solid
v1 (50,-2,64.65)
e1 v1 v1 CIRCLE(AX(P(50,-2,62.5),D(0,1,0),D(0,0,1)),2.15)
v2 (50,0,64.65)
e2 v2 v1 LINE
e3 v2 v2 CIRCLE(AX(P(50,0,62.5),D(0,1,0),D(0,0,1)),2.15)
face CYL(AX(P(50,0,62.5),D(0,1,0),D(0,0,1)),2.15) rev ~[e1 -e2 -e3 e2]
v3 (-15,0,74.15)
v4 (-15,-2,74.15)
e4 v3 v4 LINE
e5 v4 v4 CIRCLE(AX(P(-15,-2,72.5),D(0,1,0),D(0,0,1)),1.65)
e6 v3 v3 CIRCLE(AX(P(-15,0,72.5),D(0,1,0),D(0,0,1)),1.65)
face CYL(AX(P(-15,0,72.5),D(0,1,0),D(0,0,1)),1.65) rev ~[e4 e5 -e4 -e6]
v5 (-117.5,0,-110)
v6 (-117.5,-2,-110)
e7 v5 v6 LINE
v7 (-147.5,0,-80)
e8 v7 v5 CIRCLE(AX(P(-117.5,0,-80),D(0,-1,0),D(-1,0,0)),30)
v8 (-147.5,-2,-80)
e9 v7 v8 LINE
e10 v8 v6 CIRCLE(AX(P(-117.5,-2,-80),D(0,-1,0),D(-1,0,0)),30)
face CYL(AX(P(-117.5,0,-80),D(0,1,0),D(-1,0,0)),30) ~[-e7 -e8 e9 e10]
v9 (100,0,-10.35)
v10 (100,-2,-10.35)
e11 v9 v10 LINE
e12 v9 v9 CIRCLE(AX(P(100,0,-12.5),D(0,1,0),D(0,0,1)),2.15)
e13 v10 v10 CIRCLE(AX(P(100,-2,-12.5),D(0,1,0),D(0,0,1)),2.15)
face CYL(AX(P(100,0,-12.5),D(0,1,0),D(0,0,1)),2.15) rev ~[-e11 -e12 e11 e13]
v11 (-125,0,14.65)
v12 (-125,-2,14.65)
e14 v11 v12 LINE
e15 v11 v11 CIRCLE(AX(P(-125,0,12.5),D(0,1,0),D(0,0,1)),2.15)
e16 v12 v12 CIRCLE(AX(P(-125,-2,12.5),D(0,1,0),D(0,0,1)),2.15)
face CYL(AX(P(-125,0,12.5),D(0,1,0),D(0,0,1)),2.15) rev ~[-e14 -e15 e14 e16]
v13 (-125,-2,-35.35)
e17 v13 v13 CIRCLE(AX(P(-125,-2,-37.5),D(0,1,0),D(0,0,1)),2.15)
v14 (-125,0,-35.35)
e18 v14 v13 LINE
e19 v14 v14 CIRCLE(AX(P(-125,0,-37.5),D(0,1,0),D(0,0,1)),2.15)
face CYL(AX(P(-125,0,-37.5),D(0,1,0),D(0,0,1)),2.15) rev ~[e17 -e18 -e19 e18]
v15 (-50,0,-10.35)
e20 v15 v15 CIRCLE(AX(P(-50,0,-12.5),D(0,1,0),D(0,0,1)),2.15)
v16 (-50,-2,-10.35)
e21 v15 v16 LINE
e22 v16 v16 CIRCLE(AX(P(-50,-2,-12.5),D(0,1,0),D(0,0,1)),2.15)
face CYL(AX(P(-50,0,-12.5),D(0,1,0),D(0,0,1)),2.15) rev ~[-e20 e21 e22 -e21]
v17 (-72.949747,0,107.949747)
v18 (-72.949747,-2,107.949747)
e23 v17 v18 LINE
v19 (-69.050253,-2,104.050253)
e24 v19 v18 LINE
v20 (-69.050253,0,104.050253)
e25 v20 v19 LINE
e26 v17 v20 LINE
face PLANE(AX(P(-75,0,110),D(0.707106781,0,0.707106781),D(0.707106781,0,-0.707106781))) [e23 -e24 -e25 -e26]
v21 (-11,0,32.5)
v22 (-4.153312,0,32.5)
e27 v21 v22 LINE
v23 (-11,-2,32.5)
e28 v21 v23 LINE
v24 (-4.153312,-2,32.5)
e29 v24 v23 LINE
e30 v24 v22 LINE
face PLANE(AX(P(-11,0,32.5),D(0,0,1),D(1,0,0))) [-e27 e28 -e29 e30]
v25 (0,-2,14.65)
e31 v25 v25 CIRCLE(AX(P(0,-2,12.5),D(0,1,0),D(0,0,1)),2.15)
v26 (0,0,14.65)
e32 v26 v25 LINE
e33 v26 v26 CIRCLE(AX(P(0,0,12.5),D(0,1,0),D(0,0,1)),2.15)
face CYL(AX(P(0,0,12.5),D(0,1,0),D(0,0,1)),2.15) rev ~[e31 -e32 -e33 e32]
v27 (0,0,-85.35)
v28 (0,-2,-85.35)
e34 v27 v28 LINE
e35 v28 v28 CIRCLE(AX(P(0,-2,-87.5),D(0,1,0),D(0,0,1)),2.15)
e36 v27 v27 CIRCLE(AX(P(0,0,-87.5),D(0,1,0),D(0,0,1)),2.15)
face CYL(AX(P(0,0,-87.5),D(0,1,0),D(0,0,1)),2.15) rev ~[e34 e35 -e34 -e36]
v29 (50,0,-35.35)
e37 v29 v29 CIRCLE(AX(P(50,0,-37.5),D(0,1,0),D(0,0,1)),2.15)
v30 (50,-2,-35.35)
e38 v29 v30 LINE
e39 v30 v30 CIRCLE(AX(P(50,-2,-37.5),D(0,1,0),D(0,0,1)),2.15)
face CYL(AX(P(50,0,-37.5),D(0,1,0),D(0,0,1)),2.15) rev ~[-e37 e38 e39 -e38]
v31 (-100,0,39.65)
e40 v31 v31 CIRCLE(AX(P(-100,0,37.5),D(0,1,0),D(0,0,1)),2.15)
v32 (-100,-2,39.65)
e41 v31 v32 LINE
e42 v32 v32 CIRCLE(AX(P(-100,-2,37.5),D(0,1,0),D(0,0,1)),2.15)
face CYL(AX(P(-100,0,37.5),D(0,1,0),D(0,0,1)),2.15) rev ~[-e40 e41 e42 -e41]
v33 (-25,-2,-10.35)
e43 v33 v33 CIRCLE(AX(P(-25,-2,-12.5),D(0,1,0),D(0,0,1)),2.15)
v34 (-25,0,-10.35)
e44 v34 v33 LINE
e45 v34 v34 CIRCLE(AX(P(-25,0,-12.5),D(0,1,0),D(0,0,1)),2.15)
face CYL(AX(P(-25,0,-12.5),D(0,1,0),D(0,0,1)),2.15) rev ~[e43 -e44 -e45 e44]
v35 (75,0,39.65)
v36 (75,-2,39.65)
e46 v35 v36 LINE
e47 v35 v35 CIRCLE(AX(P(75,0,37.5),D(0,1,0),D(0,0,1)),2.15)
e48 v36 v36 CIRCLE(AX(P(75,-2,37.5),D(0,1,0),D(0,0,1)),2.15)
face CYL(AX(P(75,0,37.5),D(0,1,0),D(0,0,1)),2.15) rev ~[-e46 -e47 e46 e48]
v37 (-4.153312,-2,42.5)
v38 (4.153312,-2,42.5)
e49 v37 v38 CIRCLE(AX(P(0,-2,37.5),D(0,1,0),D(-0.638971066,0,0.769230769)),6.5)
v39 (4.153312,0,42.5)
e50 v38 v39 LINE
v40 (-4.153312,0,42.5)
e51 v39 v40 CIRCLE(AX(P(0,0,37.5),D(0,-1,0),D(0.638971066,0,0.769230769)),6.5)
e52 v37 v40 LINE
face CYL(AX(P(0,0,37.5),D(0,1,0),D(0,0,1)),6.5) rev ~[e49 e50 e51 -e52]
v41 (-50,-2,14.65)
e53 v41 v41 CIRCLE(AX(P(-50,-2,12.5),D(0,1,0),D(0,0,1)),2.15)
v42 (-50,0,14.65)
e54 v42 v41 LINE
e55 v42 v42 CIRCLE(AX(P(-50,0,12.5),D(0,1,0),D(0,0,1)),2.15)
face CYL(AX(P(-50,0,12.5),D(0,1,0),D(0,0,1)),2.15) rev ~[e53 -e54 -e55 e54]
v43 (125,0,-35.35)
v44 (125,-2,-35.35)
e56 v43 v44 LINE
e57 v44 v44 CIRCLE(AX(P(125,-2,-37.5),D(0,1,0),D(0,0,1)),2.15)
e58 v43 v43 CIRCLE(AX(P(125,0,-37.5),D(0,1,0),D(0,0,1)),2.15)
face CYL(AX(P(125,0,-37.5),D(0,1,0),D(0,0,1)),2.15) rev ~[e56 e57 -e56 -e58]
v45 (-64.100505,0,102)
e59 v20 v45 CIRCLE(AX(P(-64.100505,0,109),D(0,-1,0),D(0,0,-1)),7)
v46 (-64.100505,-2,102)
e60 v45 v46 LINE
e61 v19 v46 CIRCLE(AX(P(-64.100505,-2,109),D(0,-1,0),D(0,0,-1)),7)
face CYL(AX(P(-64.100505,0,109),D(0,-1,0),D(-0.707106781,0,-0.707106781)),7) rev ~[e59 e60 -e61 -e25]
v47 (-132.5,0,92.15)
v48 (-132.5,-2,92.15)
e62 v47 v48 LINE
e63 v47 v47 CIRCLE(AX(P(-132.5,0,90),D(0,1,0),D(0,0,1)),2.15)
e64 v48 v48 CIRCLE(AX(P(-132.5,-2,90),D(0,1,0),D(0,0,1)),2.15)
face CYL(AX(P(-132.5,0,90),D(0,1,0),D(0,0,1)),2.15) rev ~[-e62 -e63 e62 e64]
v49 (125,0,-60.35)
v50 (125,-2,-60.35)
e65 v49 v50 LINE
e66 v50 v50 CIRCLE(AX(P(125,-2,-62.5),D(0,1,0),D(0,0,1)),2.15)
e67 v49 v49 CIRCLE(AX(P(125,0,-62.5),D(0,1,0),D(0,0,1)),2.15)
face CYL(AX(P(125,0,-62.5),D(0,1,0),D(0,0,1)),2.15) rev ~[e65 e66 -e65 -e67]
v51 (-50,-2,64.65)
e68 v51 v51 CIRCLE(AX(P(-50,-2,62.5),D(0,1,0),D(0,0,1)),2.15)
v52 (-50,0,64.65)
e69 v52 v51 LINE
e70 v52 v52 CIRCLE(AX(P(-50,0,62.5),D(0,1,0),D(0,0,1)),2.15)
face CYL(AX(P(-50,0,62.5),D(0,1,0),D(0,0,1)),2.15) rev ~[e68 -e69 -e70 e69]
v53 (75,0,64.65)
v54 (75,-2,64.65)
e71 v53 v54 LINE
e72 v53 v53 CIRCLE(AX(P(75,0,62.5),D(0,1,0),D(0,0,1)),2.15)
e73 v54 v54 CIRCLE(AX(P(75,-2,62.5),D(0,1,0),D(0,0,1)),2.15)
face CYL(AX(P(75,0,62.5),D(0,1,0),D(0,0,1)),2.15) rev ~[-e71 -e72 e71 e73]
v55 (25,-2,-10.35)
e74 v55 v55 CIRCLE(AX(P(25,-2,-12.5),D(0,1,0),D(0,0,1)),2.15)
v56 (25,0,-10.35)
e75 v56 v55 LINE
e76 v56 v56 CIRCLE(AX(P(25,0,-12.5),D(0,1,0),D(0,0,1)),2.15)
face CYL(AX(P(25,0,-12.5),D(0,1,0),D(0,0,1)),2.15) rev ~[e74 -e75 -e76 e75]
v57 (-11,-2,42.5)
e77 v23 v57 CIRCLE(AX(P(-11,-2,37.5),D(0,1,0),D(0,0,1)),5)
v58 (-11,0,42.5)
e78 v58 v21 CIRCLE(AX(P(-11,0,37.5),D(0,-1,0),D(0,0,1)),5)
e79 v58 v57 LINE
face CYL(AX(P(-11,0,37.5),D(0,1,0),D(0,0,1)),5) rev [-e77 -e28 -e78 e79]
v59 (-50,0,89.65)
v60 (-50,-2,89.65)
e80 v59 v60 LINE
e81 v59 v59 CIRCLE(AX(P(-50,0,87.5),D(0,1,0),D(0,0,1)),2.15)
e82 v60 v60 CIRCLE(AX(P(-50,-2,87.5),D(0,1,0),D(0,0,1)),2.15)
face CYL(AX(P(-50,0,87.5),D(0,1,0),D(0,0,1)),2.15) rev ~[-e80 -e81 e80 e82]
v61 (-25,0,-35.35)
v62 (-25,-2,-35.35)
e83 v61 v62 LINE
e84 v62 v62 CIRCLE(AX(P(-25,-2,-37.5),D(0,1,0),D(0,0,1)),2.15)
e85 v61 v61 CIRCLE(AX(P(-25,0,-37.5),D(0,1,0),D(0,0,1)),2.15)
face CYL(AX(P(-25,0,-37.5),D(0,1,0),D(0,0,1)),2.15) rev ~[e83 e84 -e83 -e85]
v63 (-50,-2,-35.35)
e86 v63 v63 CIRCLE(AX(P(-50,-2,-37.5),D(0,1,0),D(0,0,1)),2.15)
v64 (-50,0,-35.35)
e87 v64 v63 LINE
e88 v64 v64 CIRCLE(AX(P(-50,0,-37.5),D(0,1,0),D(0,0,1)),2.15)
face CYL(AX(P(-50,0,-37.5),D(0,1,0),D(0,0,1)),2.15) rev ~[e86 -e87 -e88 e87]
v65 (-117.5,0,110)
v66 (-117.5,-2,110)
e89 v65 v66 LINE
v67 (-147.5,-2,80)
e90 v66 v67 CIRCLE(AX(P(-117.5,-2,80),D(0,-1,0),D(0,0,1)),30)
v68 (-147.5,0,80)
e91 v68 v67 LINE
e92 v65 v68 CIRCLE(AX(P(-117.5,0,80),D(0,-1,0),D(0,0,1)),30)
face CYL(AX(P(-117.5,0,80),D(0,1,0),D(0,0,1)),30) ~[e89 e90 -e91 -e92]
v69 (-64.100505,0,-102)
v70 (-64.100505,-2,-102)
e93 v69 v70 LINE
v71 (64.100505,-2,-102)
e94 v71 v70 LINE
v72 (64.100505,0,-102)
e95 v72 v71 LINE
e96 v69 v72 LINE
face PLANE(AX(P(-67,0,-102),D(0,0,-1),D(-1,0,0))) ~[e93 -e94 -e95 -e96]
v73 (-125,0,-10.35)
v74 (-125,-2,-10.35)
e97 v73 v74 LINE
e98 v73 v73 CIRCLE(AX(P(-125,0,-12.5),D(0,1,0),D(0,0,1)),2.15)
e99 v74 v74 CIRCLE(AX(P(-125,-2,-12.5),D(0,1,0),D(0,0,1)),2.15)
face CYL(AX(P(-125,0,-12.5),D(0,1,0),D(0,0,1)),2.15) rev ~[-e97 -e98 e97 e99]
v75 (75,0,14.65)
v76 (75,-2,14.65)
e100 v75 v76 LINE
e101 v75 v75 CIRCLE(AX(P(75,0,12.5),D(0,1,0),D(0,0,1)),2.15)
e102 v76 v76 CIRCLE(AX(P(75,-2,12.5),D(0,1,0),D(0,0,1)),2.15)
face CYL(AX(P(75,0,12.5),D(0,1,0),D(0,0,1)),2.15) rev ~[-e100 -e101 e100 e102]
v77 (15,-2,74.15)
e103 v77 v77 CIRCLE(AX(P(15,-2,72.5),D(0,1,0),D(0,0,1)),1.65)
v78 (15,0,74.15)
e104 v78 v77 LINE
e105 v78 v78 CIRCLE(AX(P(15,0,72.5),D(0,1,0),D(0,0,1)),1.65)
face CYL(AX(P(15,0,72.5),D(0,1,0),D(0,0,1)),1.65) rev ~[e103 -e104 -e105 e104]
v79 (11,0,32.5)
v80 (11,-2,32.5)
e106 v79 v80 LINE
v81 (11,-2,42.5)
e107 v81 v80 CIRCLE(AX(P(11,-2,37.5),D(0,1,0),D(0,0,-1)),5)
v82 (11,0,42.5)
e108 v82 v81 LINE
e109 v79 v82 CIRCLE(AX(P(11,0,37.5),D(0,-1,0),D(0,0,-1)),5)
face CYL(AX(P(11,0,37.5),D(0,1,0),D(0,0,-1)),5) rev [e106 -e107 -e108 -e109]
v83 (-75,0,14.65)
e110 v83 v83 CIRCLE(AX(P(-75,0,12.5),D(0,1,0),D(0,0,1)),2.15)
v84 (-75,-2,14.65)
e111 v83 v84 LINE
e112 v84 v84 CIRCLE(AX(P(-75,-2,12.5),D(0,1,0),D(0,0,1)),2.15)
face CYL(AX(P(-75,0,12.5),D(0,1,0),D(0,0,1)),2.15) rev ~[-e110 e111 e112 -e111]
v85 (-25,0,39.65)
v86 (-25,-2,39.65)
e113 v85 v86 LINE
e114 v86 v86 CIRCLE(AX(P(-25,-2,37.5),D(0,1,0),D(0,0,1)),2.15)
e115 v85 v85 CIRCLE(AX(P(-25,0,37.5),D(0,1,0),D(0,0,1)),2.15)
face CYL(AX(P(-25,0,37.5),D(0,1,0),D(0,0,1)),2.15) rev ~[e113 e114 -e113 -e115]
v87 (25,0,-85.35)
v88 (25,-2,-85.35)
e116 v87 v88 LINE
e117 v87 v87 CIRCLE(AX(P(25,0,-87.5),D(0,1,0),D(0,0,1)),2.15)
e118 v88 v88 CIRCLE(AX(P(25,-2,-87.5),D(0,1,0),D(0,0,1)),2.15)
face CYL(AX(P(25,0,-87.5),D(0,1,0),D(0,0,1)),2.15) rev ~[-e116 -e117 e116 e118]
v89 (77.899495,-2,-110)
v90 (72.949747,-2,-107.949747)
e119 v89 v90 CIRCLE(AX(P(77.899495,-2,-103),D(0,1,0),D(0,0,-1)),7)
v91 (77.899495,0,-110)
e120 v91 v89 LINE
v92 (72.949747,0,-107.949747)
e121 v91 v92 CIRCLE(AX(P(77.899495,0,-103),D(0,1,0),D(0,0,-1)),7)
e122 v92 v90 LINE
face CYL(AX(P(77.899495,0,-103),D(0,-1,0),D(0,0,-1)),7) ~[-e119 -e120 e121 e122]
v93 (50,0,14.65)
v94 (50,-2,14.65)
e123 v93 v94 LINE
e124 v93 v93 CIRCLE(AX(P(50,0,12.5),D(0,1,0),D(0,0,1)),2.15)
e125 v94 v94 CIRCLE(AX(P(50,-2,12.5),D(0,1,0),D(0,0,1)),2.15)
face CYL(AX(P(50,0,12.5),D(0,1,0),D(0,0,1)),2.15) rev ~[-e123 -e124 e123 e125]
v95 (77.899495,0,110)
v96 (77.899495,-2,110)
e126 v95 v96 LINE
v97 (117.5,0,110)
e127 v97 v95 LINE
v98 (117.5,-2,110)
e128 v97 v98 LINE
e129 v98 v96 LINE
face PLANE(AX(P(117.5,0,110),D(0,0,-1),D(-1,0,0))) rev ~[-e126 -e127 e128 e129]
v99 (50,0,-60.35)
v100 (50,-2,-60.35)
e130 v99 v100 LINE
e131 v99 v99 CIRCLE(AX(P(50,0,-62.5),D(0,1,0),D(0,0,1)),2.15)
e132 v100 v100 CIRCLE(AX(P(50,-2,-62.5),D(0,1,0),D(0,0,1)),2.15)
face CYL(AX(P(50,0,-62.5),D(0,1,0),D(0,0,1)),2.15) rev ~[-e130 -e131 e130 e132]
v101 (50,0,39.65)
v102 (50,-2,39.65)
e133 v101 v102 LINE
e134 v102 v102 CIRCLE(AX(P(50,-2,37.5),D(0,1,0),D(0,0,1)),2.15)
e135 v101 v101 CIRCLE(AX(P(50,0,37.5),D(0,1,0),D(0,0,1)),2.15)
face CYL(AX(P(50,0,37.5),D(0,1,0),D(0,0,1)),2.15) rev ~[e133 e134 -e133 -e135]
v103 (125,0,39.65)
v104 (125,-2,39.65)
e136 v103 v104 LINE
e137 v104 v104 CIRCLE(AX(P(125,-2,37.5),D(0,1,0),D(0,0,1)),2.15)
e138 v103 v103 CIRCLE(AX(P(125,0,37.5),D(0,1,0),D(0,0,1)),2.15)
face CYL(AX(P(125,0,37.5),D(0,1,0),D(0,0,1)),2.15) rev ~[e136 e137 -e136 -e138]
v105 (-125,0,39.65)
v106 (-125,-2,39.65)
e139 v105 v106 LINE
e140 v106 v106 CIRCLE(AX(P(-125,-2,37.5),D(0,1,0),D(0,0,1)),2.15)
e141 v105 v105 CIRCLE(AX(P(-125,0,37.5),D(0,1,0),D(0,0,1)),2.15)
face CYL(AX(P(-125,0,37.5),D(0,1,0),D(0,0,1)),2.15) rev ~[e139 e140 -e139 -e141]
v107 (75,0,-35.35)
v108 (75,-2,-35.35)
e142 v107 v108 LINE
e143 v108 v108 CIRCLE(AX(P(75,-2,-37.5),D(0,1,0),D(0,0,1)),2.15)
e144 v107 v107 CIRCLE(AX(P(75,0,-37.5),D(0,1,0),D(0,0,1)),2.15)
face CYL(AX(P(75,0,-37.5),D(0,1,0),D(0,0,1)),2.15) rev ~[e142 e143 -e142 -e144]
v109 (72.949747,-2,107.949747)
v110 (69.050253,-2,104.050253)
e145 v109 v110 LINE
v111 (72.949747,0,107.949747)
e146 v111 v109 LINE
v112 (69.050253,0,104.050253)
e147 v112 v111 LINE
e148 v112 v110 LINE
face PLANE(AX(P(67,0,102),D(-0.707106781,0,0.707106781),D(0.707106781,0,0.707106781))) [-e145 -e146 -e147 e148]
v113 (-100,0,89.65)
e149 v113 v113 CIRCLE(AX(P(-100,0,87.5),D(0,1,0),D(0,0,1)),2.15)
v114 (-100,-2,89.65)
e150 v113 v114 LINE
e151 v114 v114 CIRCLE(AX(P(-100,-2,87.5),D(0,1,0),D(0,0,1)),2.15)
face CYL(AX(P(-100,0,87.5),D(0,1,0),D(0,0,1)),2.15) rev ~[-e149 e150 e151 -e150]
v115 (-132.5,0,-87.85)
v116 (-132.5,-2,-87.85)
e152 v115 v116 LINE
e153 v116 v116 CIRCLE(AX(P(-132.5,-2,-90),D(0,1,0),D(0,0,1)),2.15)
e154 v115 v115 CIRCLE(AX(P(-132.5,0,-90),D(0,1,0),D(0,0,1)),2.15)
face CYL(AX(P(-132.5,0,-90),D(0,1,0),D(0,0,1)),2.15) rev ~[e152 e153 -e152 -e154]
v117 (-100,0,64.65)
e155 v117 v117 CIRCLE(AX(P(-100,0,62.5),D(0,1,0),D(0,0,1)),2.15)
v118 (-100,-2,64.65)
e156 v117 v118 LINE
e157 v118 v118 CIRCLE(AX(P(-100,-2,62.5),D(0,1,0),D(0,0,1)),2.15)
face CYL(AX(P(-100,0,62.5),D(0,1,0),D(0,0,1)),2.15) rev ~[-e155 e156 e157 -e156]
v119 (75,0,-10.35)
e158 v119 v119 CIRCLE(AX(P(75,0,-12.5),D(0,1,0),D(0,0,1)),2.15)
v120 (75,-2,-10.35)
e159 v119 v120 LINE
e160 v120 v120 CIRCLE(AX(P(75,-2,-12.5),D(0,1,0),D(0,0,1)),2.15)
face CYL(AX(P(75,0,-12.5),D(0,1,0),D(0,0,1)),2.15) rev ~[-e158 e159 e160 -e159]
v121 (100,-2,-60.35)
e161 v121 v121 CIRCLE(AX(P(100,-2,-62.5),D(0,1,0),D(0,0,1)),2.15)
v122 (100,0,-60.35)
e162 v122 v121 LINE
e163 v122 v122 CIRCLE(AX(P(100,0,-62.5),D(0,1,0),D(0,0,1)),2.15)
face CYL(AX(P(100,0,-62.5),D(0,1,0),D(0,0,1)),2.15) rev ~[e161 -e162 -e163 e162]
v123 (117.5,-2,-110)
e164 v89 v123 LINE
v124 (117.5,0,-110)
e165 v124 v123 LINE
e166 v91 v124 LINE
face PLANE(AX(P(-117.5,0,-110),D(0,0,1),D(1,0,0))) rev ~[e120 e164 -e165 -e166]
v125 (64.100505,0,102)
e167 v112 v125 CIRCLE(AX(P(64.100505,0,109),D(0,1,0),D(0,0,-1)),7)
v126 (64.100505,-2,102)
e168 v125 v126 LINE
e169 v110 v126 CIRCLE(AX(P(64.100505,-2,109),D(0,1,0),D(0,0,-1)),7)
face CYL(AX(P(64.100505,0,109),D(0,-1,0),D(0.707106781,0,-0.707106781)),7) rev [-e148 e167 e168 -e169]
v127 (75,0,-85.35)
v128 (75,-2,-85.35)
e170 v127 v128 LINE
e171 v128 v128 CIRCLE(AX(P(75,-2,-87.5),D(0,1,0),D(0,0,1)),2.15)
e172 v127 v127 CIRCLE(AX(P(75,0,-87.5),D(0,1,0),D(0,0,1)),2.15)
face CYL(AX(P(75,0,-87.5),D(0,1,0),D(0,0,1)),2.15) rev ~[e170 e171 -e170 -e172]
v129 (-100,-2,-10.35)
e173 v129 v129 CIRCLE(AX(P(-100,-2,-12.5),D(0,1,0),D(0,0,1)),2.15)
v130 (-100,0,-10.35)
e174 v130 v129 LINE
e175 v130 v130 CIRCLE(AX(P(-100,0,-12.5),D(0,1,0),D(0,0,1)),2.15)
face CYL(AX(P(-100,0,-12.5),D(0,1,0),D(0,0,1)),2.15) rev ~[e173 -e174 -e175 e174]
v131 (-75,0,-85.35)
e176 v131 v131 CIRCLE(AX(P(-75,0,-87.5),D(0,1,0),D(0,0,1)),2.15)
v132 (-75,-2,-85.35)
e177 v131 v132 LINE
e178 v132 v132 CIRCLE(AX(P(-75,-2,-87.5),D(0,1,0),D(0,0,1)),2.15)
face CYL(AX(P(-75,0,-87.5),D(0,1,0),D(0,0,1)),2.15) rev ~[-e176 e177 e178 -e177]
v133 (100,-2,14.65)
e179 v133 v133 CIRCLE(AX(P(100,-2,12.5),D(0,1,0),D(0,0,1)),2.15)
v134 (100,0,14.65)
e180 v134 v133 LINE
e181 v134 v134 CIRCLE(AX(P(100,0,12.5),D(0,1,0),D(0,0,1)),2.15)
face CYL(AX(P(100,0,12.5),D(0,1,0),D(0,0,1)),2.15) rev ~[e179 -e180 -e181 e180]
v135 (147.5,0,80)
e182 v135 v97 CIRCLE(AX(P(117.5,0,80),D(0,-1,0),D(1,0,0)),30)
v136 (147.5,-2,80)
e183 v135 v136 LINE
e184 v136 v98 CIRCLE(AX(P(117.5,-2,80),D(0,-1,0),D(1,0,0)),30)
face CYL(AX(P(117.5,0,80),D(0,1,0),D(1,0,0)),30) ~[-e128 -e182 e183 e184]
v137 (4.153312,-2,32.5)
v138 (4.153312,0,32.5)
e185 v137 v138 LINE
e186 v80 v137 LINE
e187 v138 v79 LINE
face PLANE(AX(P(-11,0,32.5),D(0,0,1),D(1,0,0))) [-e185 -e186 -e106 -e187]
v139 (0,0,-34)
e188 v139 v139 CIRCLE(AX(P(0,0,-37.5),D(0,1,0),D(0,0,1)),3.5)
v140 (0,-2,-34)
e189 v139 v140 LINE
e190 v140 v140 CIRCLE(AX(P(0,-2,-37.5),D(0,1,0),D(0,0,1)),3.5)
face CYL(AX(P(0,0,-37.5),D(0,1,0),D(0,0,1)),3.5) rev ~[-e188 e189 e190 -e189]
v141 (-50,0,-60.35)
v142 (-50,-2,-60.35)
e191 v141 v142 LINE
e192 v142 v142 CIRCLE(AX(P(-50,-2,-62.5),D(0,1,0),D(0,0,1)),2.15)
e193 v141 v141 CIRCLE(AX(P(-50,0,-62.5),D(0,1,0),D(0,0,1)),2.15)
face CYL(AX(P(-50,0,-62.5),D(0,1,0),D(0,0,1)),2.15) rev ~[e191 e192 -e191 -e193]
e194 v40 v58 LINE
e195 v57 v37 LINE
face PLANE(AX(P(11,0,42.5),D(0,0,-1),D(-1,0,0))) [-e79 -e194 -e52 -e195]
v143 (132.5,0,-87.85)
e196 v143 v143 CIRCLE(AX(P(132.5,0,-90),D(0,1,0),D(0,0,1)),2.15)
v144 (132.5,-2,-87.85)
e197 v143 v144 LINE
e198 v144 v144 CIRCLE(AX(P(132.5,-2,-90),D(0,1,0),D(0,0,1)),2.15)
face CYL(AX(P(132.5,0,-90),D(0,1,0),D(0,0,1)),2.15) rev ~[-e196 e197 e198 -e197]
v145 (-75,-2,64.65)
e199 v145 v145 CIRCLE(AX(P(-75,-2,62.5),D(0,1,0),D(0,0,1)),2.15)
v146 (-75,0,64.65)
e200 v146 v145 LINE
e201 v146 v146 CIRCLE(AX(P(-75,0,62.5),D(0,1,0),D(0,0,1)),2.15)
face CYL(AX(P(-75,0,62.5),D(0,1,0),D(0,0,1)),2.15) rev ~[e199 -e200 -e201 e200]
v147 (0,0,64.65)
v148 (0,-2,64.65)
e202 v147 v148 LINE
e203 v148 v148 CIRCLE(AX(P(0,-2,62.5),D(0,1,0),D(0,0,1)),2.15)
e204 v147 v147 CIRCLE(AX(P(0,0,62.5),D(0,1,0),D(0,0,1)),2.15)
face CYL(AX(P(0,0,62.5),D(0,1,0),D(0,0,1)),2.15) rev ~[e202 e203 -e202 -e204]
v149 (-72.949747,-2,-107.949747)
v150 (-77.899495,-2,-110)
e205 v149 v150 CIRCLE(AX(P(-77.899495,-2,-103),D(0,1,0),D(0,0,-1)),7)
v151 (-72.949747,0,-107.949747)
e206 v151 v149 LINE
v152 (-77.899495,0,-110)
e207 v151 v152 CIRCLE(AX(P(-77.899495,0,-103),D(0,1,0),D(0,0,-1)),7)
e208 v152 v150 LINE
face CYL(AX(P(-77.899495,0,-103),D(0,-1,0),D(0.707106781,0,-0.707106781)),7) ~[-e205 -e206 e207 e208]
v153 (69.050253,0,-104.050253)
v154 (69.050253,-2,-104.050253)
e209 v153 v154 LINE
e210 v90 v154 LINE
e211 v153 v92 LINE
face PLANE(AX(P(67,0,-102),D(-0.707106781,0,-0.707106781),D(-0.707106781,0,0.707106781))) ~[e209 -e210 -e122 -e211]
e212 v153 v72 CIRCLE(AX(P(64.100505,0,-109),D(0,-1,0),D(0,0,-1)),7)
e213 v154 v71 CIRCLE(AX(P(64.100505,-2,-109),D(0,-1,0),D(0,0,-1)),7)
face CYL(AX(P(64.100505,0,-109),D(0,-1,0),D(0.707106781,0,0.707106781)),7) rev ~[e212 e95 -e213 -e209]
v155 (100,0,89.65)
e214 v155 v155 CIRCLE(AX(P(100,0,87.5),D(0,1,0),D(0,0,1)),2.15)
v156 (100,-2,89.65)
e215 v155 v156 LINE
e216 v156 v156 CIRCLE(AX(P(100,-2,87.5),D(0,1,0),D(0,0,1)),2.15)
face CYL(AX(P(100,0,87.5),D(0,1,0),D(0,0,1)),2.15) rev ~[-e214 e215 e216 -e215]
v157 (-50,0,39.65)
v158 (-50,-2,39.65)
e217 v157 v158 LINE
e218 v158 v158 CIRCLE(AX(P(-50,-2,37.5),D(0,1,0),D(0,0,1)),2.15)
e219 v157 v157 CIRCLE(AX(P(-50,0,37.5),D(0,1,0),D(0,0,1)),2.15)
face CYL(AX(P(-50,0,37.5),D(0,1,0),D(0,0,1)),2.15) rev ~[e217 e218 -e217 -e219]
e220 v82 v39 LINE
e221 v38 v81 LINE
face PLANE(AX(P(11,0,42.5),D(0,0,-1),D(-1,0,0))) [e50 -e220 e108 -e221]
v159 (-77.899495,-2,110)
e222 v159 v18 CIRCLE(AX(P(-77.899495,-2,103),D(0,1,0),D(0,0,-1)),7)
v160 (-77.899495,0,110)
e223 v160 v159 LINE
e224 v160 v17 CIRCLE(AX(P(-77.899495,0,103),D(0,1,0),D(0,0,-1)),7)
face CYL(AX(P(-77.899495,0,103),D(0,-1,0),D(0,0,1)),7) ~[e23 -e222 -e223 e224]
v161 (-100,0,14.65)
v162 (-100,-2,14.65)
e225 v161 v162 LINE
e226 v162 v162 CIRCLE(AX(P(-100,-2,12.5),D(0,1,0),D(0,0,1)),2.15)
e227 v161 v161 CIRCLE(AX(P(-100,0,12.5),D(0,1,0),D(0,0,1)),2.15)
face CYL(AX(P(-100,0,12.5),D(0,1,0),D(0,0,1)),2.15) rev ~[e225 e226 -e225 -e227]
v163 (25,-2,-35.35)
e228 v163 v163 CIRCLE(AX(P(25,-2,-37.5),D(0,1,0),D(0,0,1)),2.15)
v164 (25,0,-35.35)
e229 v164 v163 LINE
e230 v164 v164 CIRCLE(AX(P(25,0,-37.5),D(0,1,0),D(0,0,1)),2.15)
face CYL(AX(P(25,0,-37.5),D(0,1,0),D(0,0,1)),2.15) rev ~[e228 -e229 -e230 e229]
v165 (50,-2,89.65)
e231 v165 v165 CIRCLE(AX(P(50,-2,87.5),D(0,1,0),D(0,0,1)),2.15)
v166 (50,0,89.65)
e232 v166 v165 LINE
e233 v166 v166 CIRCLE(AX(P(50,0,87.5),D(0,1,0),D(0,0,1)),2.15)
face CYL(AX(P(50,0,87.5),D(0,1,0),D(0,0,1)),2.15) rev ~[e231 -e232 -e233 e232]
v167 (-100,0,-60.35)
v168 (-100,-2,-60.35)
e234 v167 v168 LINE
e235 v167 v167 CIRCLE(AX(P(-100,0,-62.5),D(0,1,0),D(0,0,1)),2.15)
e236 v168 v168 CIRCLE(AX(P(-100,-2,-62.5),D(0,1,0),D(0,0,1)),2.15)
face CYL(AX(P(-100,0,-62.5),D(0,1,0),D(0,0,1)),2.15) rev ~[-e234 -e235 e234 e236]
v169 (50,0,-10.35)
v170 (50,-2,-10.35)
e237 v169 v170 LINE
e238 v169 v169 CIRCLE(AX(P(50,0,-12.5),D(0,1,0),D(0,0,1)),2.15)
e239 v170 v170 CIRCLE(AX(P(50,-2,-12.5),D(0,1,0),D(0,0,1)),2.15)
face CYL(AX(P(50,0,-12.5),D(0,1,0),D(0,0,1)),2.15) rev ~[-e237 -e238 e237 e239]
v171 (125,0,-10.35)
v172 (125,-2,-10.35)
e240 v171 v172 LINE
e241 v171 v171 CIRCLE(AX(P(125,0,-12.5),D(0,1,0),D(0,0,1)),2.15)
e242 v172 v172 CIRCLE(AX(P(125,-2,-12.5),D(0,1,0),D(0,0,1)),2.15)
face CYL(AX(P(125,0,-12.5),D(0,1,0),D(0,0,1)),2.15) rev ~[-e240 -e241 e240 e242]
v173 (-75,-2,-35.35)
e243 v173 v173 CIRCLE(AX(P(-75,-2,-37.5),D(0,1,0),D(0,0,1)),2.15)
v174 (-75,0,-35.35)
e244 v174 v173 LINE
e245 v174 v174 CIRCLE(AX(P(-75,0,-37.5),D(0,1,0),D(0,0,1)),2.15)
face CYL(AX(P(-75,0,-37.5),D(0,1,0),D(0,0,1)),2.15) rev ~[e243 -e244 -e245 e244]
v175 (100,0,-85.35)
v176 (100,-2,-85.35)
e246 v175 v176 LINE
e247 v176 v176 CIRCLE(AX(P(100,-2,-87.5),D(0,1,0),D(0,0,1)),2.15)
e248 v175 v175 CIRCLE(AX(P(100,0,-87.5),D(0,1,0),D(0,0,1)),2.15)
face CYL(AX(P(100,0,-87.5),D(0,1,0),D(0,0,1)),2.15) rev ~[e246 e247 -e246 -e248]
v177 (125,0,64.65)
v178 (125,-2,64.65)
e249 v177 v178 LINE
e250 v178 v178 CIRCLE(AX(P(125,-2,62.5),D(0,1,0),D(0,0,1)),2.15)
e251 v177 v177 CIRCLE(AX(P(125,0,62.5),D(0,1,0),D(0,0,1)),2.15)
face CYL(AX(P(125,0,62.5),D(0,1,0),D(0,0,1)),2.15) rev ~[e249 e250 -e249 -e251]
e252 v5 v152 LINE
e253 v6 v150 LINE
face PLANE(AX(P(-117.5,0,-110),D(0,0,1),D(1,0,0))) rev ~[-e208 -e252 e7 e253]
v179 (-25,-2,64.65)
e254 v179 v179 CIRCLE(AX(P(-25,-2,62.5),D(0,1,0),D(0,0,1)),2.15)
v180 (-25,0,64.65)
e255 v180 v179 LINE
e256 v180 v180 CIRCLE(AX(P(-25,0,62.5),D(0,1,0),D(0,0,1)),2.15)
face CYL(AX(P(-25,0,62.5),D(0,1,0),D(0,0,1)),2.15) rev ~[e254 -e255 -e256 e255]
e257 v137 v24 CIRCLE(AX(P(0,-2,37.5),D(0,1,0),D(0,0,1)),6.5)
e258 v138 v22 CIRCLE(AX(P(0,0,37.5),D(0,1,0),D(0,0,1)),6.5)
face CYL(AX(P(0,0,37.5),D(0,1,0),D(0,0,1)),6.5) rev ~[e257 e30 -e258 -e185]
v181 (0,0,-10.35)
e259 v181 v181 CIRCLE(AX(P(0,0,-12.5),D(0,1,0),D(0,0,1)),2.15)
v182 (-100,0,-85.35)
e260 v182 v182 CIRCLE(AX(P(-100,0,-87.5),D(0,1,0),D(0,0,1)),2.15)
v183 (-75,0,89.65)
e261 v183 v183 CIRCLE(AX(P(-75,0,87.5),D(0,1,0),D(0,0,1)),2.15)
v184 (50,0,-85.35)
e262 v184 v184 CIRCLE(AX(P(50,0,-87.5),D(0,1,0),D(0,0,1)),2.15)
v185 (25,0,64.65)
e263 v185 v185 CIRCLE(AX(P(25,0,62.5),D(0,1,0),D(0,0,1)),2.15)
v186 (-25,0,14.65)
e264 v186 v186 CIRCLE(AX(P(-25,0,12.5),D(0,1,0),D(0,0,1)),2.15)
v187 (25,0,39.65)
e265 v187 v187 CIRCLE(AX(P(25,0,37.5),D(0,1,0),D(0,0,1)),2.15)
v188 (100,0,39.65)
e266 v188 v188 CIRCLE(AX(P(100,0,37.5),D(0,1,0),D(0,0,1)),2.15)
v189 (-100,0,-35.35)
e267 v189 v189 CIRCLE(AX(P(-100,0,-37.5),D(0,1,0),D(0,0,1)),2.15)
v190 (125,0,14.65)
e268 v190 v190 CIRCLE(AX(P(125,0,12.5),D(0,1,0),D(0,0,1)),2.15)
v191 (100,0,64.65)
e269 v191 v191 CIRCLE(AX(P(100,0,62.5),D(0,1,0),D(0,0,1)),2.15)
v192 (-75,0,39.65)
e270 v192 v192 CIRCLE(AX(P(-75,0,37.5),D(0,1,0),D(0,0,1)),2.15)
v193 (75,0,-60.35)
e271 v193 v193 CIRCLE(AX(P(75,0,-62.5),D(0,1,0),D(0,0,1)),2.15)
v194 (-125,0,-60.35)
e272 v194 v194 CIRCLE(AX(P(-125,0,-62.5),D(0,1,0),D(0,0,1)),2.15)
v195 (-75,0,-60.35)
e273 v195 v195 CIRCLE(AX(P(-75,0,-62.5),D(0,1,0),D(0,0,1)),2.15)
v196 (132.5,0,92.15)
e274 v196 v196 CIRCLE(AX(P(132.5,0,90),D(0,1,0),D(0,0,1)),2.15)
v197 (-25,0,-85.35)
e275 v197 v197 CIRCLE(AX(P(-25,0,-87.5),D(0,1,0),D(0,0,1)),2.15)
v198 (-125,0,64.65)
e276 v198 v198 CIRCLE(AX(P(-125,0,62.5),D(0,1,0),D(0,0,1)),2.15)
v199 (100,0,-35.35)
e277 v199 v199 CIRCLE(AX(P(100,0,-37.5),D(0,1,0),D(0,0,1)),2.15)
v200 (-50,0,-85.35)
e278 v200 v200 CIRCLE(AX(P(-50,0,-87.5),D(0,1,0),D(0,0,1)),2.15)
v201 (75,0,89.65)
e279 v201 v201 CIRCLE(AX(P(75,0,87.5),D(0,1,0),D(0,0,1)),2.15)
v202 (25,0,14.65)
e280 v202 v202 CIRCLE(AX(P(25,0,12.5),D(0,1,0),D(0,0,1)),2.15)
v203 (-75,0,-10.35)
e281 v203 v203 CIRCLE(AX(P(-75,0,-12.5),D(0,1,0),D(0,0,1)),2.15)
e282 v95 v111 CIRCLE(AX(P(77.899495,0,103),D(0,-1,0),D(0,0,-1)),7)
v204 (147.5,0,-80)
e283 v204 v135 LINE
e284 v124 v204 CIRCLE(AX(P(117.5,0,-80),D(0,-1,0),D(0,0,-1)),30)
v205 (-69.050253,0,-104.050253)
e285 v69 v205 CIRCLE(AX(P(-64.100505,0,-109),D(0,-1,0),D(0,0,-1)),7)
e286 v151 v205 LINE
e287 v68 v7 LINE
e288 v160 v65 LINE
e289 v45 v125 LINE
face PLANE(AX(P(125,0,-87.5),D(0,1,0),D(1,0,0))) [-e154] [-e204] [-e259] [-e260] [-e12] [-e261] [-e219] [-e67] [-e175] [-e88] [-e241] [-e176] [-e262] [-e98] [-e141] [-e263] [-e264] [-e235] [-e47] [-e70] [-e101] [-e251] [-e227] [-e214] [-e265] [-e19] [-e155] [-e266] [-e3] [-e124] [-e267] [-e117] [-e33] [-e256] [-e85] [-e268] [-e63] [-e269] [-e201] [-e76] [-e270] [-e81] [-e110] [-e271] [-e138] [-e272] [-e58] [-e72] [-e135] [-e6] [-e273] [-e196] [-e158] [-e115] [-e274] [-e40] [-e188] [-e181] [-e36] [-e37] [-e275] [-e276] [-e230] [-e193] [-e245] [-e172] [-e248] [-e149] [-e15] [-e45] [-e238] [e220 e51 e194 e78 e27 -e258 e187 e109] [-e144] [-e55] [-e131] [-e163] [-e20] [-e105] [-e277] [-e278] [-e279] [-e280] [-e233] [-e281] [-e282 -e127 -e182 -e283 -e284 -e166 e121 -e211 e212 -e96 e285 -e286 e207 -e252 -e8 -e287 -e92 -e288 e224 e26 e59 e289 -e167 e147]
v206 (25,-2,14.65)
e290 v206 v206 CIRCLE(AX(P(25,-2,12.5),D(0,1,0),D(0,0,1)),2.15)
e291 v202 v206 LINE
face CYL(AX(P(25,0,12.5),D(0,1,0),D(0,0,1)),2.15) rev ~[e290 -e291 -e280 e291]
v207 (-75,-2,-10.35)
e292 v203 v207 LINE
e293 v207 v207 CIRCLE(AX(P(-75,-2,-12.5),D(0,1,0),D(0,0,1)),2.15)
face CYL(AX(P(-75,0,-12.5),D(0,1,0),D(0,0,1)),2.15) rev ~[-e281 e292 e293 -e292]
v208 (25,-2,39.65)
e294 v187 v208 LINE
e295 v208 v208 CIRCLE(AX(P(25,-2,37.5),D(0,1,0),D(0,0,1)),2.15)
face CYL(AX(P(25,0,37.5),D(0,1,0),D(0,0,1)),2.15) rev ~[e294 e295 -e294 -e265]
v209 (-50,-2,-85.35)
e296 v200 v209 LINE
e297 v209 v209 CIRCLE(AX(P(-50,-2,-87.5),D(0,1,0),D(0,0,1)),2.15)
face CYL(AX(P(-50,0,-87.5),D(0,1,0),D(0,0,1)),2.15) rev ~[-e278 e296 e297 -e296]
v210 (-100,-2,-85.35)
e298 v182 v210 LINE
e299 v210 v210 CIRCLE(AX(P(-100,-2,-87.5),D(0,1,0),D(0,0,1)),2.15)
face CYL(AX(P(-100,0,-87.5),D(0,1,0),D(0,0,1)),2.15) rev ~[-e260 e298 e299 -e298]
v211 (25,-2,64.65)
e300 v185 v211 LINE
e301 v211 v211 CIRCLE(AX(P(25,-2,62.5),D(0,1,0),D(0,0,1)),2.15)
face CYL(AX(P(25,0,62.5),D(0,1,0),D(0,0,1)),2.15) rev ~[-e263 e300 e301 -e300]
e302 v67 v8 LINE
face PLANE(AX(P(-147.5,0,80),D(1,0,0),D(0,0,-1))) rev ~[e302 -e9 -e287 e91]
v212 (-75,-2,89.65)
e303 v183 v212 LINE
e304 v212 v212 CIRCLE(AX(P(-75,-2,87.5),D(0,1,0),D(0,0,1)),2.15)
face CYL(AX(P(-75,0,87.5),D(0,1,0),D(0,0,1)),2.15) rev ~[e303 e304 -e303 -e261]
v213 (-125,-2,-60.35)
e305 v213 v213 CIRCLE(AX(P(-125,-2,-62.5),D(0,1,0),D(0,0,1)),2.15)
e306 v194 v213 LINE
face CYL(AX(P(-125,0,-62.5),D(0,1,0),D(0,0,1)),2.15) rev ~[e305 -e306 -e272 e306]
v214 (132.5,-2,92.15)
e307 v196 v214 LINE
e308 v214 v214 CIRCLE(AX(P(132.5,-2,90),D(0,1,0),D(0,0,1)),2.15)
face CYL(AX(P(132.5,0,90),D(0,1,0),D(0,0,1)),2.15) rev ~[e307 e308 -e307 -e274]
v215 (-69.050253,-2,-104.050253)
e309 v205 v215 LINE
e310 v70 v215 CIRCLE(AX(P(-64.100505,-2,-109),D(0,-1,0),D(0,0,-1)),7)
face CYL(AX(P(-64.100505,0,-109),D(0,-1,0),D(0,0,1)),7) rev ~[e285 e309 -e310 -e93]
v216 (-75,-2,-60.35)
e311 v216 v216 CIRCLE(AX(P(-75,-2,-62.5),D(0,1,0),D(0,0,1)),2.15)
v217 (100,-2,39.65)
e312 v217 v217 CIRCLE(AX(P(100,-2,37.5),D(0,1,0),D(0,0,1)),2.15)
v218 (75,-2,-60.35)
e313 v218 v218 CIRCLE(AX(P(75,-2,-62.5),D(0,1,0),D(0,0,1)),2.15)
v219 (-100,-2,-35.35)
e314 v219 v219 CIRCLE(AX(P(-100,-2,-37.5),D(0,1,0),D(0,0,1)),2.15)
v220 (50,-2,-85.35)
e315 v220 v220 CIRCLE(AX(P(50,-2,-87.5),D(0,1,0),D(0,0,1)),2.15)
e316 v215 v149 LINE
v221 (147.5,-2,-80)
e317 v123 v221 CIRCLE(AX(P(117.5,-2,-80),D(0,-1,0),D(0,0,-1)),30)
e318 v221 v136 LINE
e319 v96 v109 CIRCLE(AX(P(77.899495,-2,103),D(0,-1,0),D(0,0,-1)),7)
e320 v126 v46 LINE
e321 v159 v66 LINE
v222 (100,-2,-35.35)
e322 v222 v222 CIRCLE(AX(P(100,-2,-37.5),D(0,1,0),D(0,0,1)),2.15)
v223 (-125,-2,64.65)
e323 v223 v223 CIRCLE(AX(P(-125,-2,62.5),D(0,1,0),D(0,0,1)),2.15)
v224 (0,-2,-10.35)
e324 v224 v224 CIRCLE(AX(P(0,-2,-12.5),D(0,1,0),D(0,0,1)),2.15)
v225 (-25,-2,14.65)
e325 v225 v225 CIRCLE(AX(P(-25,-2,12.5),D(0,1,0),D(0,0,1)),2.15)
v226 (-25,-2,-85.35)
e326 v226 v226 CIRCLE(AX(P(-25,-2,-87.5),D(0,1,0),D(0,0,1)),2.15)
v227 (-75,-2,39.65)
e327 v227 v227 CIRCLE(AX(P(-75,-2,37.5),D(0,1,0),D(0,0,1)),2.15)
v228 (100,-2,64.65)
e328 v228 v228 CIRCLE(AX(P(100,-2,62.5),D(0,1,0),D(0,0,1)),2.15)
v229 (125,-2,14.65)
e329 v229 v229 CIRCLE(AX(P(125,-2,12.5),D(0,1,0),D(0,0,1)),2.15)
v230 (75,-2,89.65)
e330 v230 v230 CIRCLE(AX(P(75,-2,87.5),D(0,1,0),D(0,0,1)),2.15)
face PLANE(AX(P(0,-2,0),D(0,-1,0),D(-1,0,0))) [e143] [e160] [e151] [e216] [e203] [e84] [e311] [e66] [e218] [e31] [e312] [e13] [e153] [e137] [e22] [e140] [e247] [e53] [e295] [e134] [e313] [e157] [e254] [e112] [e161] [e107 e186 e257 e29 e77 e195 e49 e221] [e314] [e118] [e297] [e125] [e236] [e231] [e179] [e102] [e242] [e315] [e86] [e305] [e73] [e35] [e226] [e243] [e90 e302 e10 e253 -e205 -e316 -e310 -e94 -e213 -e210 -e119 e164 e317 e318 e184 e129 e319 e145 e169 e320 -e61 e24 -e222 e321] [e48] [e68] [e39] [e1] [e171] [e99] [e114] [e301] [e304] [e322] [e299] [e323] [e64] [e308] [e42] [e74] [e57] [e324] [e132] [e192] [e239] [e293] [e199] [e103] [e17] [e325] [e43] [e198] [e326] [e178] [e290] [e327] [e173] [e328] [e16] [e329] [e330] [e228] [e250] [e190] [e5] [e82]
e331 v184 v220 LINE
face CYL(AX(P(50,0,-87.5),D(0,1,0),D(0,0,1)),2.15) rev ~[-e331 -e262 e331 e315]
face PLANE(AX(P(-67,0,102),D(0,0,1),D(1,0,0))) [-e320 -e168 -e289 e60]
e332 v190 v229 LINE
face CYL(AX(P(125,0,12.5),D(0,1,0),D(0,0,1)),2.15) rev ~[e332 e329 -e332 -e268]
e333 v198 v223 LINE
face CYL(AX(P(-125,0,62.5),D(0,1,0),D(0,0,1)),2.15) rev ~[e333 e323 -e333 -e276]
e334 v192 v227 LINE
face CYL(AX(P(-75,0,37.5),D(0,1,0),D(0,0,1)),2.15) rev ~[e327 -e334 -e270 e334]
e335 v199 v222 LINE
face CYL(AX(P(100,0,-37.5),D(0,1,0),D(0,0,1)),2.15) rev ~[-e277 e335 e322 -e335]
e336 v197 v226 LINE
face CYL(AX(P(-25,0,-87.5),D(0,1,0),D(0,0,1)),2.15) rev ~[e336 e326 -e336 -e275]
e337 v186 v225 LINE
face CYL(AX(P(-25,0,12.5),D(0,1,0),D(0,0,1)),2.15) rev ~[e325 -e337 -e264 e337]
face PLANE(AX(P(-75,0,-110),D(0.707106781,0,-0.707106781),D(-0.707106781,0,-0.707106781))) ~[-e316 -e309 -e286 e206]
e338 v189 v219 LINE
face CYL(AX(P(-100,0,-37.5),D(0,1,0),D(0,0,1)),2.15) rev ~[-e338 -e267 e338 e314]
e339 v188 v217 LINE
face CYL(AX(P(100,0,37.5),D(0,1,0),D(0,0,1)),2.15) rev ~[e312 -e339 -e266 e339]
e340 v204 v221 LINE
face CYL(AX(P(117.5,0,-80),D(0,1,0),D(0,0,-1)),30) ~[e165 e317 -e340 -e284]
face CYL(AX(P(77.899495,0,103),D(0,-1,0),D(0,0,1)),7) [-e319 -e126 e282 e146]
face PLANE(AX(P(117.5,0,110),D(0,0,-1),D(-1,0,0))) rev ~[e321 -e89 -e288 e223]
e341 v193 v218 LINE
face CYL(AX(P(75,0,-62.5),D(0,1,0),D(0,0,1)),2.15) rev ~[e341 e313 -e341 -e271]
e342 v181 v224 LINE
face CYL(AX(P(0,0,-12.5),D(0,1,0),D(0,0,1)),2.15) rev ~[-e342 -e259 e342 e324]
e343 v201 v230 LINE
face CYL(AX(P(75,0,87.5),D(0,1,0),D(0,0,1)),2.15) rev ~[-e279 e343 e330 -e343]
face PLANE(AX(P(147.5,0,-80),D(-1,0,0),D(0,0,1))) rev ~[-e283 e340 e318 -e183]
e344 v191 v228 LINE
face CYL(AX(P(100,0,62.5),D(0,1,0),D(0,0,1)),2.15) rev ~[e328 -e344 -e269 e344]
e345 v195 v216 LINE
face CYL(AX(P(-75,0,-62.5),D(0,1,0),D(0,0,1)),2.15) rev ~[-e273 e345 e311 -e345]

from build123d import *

# Parameters (mm, degrees)
BOSS_EXTRUDE1_DEPTH  = 2
SKETCH8_R            = 2.15
CUT_EXTRUDE11_DEPTH  = 185.011548551
CUT_EXTRUDE12_DEPTH  = 185.011548551
FILLET1_R            = 7
SKETCH11_R           = 6.5
CUT_EXTRUDE14_DEPTH  = 185.011548551
SKETCH10_R           = 2.15
CUT_EXTRUDE13_DEPTH  = 185.011548551
LPATTERN1_COUNT      = 8
LPATTERN1_PITCH      = 25
LPATTERN1_COUNT_DIR2 = 11
LPATTERN1_PITCH_DIR2 = 25
SKETCH18_R           = 1.65
CUT_EXTRUDE21_DEPTH  = 185.011548551
CUT_EXTRUDE22_DEPTH  = 10
SKETCH20_R           = 2.15
BOSS_EXTRUDE2_DEPTH  = 2
SKETCH23_R           = 3.5
CUT_EXTRUDE25_DEPTH  = 10


with BuildPart() as part:
    # Sketch1 → Boss-Extrude1 (new body)
    with BuildSketch(Plane(origin=(0, 0, 0), x_dir=(1, 0, 0), z_dir=(0, 1, 0))):
        with BuildLine():
            Line((117.5, -110), (-117.5, -110))
            ThreePointArc((-117.5, -110), (-138.713203436, -101.213203436), (-147.5, -80))
            Line((-147.5, -80), (-147.5, 80))
            ThreePointArc((-147.5, 80), (-138.713203436, 101.213203436), (-117.5, 110))
            Line((-117.5, 110), (117.5, 110))
            ThreePointArc((117.5, 110), (138.713203436, 101.213203436), (147.5, 80))
            Line((147.5, 80), (147.5, -80))
            ThreePointArc((147.5, -80), (138.713203436, -101.213203436), (117.5, -110))
        make_face()
    extrude(amount=-BOSS_EXTRUDE1_DEPTH)

    # Sketch8 → Cut-Extrude11 (cut, through all)
    with BuildSketch(Plane(origin=(0, 0, 0), x_dir=(1, 0, 0), z_dir=(0, 1, 0))):
        with Locations(Location((-132.5, 90, 0), (0, 0, 270))):
            Circle(SKETCH8_R)
        with Locations(Location((132.5, 90, 0), (0, 0, 270))):
            Circle(SKETCH8_R)
        with Locations(Location((-132.5, -90, 0), (0, 0, 270))):
            Circle(SKETCH8_R)
        with Locations(Location((132.5, -90, 0), (0, 0, 270))):
            Circle(SKETCH8_R)
    extrude(amount=-CUT_EXTRUDE11_DEPTH, mode=Mode.SUBTRACT)

    # Sketch9 → Cut-Extrude12 (cut, through all)
    with BuildSketch(Plane(origin=(0, 0, 0), x_dir=(1, 0, 0), z_dir=(0, 1, 0))):
        Polygon((-75, -110), (-67, -102), (67, -102), (75, -110), align=None)
    cut_extrude12 = extrude(amount=-CUT_EXTRUDE12_DEPTH, mode=Mode.SUBTRACT)

    # Mirror2: Cut-Extrude12 across plane
    add(cut_extrude12.mirror(Plane.XY), mode=Mode.SUBTRACT)

    # Fillet1
    fillet1_edges = [part.edges().sort_by_distance(p)[0] for p in [
        (75, -1, 110),
        (-75, -1, 110),
        (-67, -1, 102),
        (67, -1, 102),
        (-75, -1, -110),
        (75, -1, -110),
        (67, -1, -102),
        (-67, -1, -102),
    ]]
    fillet(fillet1_edges, radius=FILLET1_R)

    # Sketch11 → Cut-Extrude14 (cut, through all)
    with BuildSketch(Plane(origin=(0, 0, 0), x_dir=(1, 0, 0), z_dir=(0, 1, 0))):
        with Locations(Location((0, -37.5, 0), (0, 0, 270))):
            Circle(SKETCH11_R)
    extrude(amount=-CUT_EXTRUDE14_DEPTH, mode=Mode.SUBTRACT)

    # Sketch10 → Cut-Extrude13 (cut, through all)
    with BuildSketch(Plane(origin=(0, 0, 0), x_dir=(1, 0, 0), z_dir=(0, 1, 0))):
        with Locations(Location((-125, 87.5, 0), (0, 0, 270))):
            Circle(SKETCH10_R)
    cut_extrude13 = extrude(amount=-CUT_EXTRUDE13_DEPTH, mode=Mode.SUBTRACT)

    # LPattern1: Cut-Extrude13 8 × 11, 7 skipped
    with Locations(*[(j * LPATTERN1_PITCH_DIR2, 0, i * LPATTERN1_PITCH) for i in range(LPATTERN1_COUNT) for j in range(LPATTERN1_COUNT_DIR2) if (i, j) not in ((0, 0), (1, 4), (1, 5), (1, 6), (5, 5), (7, 4), (7, 5), (7, 6))]):
        add(cut_extrude13, mode=Mode.SUBTRACT)

    # Sketch18 → Cut-Extrude21 (cut, through all)
    with BuildSketch(Plane(origin=(0, 0, 0), x_dir=(1, 0, 0), z_dir=(0, 1, 0))):
        with Locations(Location((15, -72.5, 0), (0, 0, 270))):
            Circle(SKETCH18_R)
        with Locations(Location((-15, -72.5, 0), (0, 0, 270))):
            Circle(SKETCH18_R)
    extrude(amount=-CUT_EXTRUDE21_DEPTH, mode=Mode.SUBTRACT)

    # Sketch19 → Cut-Extrude22 (cut)
    with BuildSketch(Plane(origin=(0, 0, 0), x_dir=(1, 0, 0), z_dir=(0, 1, 0))):
        with BuildLine():
            Line((-11, -32.5), (11, -32.5))
            ThreePointArc((11, -32.5), (16, -37.5), (11, -42.5))
            Line((11, -42.5), (-11, -42.5))
            ThreePointArc((-11, -42.5), (-16, -37.5), (-11, -32.5))
        make_face()
    extrude(amount=-CUT_EXTRUDE22_DEPTH, mode=Mode.SUBTRACT)

    # Sketch20 → Boss-Extrude2 (add)
    with BuildSketch(Plane(origin=(0, 0, 0), x_dir=(1, 0, 0), z_dir=(0, 1, 0))):
        with Locations((125, 87.5)):
            Circle(SKETCH20_R)
        with Locations((125, -87.5)):
            Circle(SKETCH20_R)
        with Locations((-125, -87.5)):
            Circle(SKETCH20_R)
        with Locations((-125, 87.5)):
            Circle(SKETCH20_R)
    extrude(amount=-BOSS_EXTRUDE2_DEPTH)

    # Sketch23 → Cut-Extrude25 (cut)
    with BuildSketch(Plane(origin=(0, 0, 0), x_dir=(1, 0, 0), z_dir=(0, 1, 0))):
        with Locations(Location((0, 37.5, 0), (0, 0, 270))):
            Circle(SKETCH23_R)
    extrude(amount=-CUT_EXTRUDE25_DEPTH, mode=Mode.SUBTRACT)


solid = part.part
